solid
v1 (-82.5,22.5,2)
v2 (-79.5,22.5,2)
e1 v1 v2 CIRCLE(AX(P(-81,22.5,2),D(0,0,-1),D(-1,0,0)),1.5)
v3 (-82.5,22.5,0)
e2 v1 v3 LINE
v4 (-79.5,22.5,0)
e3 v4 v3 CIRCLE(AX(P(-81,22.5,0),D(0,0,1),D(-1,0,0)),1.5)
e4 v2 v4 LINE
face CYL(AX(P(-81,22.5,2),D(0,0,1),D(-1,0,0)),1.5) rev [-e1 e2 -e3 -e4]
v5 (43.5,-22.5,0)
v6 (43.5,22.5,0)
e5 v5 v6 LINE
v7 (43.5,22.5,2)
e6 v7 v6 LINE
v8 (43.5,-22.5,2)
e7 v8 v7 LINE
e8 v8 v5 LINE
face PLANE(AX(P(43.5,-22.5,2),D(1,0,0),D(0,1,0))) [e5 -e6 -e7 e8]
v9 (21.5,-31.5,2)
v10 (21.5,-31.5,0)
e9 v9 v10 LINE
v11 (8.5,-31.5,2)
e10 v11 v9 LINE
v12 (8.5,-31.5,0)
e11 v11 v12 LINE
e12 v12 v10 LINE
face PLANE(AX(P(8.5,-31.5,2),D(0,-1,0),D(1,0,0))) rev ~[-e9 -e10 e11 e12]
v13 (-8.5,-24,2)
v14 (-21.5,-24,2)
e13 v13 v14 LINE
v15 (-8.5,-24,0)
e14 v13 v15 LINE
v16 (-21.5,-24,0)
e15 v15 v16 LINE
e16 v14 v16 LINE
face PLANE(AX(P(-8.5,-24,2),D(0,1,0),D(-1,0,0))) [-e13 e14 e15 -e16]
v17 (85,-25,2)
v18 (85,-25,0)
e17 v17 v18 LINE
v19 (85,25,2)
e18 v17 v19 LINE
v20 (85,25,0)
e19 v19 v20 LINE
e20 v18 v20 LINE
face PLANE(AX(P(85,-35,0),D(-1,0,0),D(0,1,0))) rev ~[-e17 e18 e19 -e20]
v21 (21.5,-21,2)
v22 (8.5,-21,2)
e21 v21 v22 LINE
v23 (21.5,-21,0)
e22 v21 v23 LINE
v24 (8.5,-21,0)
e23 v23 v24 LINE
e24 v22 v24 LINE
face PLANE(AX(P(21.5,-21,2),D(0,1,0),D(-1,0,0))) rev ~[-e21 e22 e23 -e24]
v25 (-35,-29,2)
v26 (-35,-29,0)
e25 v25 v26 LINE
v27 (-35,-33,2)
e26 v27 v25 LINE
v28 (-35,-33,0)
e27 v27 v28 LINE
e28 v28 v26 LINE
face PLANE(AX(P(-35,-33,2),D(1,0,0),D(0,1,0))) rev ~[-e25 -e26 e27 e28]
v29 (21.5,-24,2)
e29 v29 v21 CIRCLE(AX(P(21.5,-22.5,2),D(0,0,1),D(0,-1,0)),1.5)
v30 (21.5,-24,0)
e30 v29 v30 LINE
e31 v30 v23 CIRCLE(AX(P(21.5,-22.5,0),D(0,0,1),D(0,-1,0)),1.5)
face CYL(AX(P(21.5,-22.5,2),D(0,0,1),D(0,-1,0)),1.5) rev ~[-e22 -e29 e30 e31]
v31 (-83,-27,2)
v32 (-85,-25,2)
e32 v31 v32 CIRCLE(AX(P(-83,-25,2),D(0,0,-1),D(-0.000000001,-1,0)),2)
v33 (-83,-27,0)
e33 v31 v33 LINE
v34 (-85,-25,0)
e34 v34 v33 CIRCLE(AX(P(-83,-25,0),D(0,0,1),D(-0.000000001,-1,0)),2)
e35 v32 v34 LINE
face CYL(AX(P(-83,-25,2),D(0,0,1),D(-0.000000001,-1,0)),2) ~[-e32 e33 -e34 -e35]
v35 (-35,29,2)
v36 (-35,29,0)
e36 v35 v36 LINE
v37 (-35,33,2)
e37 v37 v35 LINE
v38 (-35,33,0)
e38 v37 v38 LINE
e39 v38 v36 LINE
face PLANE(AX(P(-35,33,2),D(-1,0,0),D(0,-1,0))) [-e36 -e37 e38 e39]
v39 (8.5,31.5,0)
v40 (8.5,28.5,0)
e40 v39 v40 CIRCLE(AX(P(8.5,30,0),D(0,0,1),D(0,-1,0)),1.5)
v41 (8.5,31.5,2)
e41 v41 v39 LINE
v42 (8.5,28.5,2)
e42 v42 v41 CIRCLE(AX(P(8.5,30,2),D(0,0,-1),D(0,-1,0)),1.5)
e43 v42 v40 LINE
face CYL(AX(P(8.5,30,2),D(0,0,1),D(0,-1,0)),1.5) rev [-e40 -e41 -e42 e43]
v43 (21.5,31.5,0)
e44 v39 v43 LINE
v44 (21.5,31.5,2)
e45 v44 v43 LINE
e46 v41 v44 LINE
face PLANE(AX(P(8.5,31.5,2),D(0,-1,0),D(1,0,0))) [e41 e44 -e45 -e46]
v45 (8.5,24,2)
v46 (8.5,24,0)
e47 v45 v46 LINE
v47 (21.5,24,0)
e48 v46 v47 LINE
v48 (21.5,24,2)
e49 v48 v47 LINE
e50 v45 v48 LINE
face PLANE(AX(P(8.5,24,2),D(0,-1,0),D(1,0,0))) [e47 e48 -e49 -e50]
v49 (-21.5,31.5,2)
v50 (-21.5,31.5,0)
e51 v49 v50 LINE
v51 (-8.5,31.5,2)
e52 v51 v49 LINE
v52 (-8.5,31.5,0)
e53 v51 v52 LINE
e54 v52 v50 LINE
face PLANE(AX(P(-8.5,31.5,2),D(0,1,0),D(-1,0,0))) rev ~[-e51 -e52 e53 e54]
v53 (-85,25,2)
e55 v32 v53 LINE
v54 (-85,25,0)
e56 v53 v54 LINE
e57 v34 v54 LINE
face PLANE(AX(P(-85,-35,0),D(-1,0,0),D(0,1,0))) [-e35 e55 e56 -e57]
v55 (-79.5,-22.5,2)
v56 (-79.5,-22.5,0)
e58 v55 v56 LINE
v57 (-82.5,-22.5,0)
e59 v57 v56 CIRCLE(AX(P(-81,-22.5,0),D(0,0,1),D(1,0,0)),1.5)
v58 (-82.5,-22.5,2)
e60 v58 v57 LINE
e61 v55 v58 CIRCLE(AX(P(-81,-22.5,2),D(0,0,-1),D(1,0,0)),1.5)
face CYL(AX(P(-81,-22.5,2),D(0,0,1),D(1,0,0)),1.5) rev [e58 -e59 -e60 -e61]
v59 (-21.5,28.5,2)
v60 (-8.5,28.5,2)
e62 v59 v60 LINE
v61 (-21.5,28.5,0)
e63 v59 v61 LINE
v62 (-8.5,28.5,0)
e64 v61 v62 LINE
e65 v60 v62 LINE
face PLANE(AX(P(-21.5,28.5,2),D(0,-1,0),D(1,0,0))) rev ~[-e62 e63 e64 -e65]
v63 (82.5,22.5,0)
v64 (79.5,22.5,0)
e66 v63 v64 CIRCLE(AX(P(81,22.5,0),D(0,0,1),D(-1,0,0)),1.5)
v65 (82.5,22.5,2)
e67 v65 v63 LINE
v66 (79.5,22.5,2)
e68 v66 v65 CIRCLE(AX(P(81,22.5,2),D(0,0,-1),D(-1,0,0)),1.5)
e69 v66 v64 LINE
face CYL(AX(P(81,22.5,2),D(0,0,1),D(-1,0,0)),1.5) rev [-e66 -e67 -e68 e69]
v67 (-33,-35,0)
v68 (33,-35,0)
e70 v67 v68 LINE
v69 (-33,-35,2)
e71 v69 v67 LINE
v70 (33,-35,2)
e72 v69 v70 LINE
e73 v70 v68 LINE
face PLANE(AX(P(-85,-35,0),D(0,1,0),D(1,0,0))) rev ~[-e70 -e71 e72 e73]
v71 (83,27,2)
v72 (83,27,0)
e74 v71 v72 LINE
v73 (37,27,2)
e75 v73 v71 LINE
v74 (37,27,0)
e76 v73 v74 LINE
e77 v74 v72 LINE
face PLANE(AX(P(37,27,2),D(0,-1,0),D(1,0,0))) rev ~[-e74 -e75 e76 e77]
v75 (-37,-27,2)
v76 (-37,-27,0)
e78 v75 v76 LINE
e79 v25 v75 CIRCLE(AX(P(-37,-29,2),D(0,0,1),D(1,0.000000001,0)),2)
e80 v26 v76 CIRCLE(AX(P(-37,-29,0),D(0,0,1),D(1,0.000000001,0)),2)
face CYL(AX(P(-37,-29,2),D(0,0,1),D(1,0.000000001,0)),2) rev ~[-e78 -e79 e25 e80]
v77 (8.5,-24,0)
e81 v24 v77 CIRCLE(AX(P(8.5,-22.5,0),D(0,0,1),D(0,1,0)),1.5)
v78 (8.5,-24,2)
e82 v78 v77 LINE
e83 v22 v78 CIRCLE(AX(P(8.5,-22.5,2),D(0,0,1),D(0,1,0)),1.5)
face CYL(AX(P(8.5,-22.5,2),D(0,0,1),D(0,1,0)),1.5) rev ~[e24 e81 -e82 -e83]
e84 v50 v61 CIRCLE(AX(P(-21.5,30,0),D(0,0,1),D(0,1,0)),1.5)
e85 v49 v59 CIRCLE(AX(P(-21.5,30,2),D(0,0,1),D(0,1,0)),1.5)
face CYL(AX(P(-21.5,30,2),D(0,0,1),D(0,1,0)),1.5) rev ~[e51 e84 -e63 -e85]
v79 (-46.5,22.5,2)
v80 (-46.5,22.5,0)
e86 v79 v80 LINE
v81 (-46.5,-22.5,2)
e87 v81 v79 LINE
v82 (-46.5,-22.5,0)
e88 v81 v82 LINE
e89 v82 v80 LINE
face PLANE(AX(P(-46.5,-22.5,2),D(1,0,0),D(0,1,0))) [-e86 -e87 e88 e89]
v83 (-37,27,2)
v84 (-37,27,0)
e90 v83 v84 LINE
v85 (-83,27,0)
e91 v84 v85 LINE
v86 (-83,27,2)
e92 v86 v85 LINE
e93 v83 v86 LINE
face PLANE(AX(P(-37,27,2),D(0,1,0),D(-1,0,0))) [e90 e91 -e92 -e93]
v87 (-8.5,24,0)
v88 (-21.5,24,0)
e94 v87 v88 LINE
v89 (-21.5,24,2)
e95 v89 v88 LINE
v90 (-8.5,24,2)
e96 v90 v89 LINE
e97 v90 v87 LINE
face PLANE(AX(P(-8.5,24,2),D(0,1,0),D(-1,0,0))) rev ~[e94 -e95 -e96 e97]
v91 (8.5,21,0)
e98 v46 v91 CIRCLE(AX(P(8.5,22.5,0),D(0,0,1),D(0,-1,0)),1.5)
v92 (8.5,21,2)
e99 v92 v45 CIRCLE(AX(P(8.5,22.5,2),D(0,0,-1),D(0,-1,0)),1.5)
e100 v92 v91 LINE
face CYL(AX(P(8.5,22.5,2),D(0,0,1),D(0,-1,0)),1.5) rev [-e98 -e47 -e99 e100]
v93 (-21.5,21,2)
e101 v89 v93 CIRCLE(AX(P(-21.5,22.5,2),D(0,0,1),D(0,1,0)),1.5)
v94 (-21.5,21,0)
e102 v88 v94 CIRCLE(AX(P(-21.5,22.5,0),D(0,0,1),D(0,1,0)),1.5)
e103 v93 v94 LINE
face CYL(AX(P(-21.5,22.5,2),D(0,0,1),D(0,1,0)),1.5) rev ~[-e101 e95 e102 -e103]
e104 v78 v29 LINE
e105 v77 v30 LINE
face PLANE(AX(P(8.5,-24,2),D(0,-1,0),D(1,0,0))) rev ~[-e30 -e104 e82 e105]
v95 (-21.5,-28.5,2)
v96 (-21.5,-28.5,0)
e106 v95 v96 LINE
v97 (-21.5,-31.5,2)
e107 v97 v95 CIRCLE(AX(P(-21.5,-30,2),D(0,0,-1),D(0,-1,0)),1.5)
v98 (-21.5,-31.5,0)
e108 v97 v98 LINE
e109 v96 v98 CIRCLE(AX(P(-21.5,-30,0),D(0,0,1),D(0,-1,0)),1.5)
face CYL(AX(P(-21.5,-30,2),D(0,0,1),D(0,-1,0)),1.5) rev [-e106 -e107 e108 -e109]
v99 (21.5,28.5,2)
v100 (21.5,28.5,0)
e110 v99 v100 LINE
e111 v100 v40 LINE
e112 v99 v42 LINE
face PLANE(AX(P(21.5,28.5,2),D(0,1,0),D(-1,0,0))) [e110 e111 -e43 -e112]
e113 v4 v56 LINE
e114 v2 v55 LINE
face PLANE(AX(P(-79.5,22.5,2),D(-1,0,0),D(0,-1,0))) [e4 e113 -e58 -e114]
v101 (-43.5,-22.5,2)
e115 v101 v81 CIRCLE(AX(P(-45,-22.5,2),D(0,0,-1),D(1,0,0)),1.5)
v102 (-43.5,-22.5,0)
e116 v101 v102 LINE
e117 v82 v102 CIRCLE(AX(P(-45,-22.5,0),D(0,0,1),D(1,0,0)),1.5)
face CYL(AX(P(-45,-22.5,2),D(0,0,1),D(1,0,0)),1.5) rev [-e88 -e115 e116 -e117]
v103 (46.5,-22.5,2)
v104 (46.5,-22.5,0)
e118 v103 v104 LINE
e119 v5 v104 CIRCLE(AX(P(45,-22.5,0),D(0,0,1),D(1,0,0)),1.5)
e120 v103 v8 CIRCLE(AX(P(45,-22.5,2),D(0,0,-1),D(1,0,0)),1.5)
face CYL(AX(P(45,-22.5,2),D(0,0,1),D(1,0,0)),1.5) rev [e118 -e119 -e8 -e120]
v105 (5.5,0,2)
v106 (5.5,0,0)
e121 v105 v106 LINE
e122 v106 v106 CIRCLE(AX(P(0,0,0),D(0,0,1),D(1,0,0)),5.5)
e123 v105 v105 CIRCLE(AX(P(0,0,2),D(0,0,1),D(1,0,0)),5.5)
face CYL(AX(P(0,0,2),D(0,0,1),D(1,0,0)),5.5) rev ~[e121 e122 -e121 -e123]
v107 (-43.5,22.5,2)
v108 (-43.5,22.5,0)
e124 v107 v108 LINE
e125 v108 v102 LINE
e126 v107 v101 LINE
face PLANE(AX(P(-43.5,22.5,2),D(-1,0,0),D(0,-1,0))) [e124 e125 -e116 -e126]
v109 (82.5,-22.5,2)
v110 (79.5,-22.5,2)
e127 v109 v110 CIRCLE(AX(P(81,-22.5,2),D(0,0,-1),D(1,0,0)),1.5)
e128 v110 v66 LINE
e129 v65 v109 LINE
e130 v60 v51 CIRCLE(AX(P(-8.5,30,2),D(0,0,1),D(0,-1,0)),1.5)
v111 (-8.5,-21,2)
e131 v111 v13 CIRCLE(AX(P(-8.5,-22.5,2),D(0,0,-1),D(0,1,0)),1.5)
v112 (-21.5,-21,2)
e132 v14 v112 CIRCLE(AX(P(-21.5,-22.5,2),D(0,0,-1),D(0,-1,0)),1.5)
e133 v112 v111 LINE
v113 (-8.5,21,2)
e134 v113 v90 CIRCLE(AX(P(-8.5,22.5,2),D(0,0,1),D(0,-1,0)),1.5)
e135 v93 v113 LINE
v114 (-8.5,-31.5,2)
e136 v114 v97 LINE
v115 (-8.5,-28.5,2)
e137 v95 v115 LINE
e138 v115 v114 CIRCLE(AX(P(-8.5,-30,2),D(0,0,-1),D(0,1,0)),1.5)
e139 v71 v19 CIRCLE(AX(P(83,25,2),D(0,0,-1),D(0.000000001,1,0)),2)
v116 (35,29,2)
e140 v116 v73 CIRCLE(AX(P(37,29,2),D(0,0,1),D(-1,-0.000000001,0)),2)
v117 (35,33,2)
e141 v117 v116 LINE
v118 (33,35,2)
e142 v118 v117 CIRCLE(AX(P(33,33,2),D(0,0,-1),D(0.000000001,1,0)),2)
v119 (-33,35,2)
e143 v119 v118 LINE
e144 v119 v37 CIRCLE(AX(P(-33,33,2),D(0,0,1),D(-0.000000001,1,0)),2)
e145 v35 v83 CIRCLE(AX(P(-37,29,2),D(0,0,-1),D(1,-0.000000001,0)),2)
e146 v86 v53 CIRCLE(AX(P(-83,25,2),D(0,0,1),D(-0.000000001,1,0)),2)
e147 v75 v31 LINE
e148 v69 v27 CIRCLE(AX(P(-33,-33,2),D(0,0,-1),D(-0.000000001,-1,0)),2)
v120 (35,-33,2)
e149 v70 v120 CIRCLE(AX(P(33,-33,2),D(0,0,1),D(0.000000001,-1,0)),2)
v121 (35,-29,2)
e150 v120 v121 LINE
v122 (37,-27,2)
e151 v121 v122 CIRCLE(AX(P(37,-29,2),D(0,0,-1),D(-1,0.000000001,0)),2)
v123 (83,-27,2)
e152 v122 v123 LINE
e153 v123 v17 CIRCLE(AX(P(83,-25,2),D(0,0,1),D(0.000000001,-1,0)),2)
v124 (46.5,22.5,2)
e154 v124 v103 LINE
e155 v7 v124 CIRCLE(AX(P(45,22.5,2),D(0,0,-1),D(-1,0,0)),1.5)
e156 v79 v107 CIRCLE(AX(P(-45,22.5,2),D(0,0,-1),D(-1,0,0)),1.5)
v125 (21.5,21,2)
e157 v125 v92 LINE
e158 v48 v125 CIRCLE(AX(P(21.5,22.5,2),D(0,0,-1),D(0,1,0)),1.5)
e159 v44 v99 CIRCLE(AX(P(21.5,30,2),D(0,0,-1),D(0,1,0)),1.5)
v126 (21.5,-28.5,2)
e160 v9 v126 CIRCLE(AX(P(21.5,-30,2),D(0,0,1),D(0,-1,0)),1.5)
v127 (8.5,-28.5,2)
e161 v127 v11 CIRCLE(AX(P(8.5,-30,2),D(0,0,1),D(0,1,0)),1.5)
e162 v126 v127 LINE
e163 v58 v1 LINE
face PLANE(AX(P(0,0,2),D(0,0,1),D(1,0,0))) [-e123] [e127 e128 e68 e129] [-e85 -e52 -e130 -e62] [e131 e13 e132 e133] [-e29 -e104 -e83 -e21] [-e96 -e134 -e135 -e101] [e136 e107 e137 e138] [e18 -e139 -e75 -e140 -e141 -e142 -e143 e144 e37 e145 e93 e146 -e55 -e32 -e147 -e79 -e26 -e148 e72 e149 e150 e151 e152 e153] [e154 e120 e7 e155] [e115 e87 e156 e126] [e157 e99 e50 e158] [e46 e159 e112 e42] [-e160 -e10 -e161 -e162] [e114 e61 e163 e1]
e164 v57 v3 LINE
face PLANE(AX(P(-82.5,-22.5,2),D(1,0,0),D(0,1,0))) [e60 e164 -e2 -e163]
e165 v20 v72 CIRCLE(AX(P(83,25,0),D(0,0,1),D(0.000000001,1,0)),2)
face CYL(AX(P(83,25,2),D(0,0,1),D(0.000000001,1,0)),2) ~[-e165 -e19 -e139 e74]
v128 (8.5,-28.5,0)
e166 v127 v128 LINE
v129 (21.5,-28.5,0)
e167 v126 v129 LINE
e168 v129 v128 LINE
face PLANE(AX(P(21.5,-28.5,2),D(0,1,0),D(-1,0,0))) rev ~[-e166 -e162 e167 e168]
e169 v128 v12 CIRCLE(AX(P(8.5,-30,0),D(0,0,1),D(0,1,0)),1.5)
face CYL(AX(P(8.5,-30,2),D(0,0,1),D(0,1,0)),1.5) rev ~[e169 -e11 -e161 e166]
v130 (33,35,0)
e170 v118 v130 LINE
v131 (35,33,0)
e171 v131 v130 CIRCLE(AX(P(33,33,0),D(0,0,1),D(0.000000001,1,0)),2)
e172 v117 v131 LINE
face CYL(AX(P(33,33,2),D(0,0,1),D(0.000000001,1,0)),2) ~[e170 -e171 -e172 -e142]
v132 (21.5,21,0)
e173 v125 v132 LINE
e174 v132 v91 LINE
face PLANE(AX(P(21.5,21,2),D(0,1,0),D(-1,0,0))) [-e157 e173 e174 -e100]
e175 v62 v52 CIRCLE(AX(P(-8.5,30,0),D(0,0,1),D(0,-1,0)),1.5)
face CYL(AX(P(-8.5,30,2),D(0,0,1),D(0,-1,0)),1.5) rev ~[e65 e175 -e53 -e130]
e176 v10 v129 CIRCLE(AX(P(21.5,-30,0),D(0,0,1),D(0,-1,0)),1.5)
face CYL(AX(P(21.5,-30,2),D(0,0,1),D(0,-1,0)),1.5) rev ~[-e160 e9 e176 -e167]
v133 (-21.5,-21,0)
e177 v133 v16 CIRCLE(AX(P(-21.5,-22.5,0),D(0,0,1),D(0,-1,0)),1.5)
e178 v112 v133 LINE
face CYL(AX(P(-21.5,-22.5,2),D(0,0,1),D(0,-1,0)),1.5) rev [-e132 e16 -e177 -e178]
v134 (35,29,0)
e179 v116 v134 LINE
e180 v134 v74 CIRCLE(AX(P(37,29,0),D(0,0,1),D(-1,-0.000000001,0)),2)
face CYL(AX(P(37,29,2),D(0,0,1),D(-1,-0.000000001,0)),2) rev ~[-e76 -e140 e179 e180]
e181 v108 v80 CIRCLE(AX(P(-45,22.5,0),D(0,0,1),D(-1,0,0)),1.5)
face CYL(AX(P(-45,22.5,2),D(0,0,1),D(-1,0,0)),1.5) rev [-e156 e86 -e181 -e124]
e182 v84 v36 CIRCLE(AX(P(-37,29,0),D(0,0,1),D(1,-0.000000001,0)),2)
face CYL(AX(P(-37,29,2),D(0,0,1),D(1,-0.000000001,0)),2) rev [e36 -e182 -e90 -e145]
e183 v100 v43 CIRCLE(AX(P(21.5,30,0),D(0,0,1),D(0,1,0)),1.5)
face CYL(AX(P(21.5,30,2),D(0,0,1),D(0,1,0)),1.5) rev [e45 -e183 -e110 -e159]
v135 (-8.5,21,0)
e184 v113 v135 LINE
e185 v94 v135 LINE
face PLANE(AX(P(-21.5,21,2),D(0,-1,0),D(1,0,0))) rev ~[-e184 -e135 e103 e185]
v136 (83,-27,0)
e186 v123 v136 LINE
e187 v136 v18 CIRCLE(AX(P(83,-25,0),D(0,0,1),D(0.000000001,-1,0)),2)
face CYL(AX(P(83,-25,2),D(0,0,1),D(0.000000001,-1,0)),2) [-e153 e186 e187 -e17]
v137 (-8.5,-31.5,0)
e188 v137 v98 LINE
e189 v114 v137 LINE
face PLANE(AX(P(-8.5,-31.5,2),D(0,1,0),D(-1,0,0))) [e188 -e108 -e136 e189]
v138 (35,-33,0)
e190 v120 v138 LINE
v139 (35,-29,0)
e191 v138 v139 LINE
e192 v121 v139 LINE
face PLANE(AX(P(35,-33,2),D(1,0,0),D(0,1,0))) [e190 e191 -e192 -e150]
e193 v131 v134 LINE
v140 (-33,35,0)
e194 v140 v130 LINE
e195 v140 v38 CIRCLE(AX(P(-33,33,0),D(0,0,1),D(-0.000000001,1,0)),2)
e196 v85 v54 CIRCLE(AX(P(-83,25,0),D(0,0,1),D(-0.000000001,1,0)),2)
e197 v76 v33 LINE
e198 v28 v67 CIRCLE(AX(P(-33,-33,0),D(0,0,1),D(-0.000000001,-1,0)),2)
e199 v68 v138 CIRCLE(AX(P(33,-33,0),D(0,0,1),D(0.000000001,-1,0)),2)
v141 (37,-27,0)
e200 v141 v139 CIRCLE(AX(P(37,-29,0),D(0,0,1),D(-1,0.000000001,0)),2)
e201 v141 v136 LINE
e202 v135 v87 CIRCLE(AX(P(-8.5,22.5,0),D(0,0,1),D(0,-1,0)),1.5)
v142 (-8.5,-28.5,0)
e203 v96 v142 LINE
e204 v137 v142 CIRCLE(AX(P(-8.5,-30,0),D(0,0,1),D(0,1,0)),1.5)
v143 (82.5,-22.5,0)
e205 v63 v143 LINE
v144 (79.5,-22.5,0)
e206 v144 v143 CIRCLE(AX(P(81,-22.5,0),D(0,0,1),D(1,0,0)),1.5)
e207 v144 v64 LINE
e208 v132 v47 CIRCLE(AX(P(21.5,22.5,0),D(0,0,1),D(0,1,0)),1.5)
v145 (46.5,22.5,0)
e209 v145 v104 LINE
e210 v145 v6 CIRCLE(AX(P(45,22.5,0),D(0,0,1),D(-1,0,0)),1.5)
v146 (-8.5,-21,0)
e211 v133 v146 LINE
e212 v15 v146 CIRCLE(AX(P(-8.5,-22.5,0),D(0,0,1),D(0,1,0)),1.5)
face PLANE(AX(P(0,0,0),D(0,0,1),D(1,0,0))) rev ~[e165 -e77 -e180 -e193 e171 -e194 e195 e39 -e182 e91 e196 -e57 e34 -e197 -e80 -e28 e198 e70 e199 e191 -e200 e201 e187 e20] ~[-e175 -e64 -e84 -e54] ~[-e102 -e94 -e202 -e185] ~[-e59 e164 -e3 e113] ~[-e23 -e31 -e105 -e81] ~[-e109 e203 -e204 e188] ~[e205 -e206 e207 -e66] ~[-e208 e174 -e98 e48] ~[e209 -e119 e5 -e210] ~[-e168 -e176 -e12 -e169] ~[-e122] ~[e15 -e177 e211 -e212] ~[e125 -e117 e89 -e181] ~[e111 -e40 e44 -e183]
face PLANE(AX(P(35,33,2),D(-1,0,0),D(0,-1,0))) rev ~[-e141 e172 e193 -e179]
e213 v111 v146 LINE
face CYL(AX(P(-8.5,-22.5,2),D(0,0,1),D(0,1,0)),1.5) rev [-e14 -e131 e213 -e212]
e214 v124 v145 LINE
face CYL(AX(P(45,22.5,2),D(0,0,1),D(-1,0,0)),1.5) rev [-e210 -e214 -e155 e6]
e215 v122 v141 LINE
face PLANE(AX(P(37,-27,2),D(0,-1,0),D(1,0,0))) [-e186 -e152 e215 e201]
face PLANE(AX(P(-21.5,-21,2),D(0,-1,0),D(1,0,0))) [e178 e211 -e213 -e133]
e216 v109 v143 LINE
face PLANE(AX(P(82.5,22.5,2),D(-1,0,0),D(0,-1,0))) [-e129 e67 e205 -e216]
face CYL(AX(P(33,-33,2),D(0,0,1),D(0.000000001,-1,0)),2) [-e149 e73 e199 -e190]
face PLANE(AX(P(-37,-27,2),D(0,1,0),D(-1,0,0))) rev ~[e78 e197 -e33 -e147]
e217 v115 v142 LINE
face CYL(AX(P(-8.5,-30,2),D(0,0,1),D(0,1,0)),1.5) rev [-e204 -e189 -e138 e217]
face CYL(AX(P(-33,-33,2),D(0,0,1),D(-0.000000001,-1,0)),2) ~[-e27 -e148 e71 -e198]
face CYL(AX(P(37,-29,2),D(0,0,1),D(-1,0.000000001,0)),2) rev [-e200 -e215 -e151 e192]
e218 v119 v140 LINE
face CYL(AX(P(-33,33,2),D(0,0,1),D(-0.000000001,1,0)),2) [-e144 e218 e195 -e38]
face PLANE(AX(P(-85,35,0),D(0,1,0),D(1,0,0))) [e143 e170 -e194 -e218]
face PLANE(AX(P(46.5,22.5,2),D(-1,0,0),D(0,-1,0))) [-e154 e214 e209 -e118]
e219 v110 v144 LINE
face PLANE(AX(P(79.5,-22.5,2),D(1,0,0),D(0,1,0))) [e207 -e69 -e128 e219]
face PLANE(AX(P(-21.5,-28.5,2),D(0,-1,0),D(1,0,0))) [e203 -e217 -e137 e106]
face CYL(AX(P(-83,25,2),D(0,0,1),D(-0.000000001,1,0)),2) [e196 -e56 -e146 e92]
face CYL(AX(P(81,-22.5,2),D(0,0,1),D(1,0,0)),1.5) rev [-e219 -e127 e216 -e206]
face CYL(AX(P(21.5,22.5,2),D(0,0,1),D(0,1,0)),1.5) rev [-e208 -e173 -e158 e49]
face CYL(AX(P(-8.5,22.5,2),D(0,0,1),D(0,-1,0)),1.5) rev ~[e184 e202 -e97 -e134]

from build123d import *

# Parameters (mm, degrees)
SKETCH_1_W          = 170
SKETCH_1_H          = 70
EXTRUDE_1_DEPTH     = 2
SKETCH_2_R          = 5.5
CUT_EXTRUDE_1_DEPTH = 92.945636112
CUT_EXTRUDE_2_DEPTH = 92.945636112


with BuildPart() as part:
    # 草圖1 → 填料-伸長1 (new body)
    with BuildSketch(Plane.XY):
        Rectangle(SKETCH_1_W, SKETCH_1_H)
    extrude(amount=EXTRUDE_1_DEPTH)

    # 草圖2 → 除料-伸長1 (cut, through all)
    with BuildSketch(Plane.XY.offset(2)):
        Circle(SKETCH_2_R)
        with BuildLine():
            Line((43.5, -22.5), (43.5, 22.5))
            ThreePointArc((43.5, 22.5), (45, 24), (46.5, 22.5))
            Line((46.5, 22.5), (46.5, -22.5))
            ThreePointArc((46.5, -22.5), (45, -24), (43.5, -22.5))
        make_face()
        with BuildLine():
            Line((-46.5, -22.5), (-46.5, 22.5))
            ThreePointArc((-46.5, 22.5), (-45, 24), (-43.5, 22.5))
            Line((-43.5, 22.5), (-43.5, -22.5))
            ThreePointArc((-43.5, -22.5), (-45, -24), (-46.5, -22.5))
        make_face()
        with BuildLine():
            Line((21.5, 28.5), (8.5, 28.5))
            ThreePointArc((8.5, 28.5), (7, 30), (8.5, 31.5))
            Line((8.5, 31.5), (21.5, 31.5))
            ThreePointArc((21.5, 31.5), (23, 30), (21.5, 28.5))
        make_face()
        with BuildLine():
            Line((-82.5, -22.5), (-82.5, 22.5))
            ThreePointArc((-82.5, 22.5), (-81, 24), (-79.5, 22.5))
            Line((-79.5, 22.5), (-79.5, -22.5))
            ThreePointArc((-79.5, -22.5), (-81, -24), (-82.5, -22.5))
        make_face()
        with BuildLine():
            Line((79.5, -22.5), (79.5, 22.5))
            ThreePointArc((79.5, 22.5), (81, 24), (82.5, 22.5))
            Line((82.5, 22.5), (82.5, -22.5))
            ThreePointArc((82.5, -22.5), (81, -24), (79.5, -22.5))
        make_face()
        with BuildLine():
            Line((21.5, 21), (8.5, 21))
            ThreePointArc((8.5, 21), (7, 22.5), (8.5, 24))
            Line((8.5, 24), (21.5, 24))
            ThreePointArc((21.5, 24), (23, 22.5), (21.5, 21))
        make_face()
        with BuildLine():
            Line((-21.5, 28.5), (-8.5, 28.5))
            ThreePointArc((-8.5, 28.5), (-7, 30), (-8.5, 31.5))
            Line((-8.5, 31.5), (-21.5, 31.5))
            ThreePointArc((-21.5, 31.5), (-23, 30), (-21.5, 28.5))
        make_face()
        with BuildLine():
            Line((-21.5, 21), (-8.5, 21))
            ThreePointArc((-8.5, 21), (-7, 22.5), (-8.5, 24))
            Line((-8.5, 24), (-21.5, 24))
            ThreePointArc((-21.5, 24), (-23, 22.5), (-21.5, 21))
        make_face()
        with BuildLine():
            Line((21.5, -28.5), (8.5, -28.5))
            ThreePointArc((8.5, -28.5), (7, -30), (8.5, -31.5))
            Line((8.5, -31.5), (21.5, -31.5))
            ThreePointArc((21.5, -31.5), (23, -30), (21.5, -28.5))
        make_face()
        with BuildLine():
            Line((21.5, -21), (8.5, -21))
            ThreePointArc((8.5, -21), (7, -22.5), (8.5, -24))
            Line((8.5, -24), (21.5, -24))
            ThreePointArc((21.5, -24), (23, -22.5), (21.5, -21))
        make_face()
        with BuildLine():
            Line((-21.5, -28.5), (-8.5, -28.5))
            ThreePointArc((-8.5, -28.5), (-7, -30), (-8.5, -31.5))
            Line((-8.5, -31.5), (-21.5, -31.5))
            ThreePointArc((-21.5, -31.5), (-23, -30), (-21.5, -28.5))
        make_face()
        with BuildLine():
            Line((-21.5, -21), (-8.5, -21))
            ThreePointArc((-8.5, -21), (-7, -22.5), (-8.5, -24))
            Line((-8.5, -24), (-21.5, -24))
            ThreePointArc((-21.5, -24), (-23, -22.5), (-21.5, -21))
        make_face()
    extrude(amount=-CUT_EXTRUDE_1_DEPTH, mode=Mode.SUBTRACT)

    # 草圖4 → 除料-伸長2 (cut, through all)
    with BuildSketch(Plane.XY.offset(2)):
        with BuildLine():
            Line((85, 35), (33, 35))
            ThreePointArc((33, 35), (34.414213562, 34.414213562), (35, 33))
            Line((35, 33), (35, 29))
            ThreePointArc((35, 29), (35.585786438, 27.585786438), (37, 27))
            Line((37, 27), (83, 27))
            ThreePointArc((83, 27), (84.414213562, 26.414213562), (85, 25))
            Line((85, 25), (85, 35))
        make_face()
        with BuildLine():
            Line((35, -33), (35, -29))
            ThreePointArc((35, -29), (35.585786438, -27.585786438), (37, -27))
            Line((37, -27), (83, -27))
            ThreePointArc((83, -27), (84.414213562, -26.414213562), (85, -25))
            Line((85, -25), (85, -35))
            Line((85, -35), (33, -35))
            ThreePointArc((33, -35), (34.414213562, -34.414213562), (35, -33))
        make_face()
        with BuildLine():
            Line((-85, -35), (-33, -35))
            ThreePointArc((-33, -35), (-34.414213562, -34.414213562), (-35, -33))
            Line((-35, -33), (-35, -29))
            ThreePointArc((-35, -29), (-35.585786438, -27.585786438), (-37, -27))
            Line((-37, -27), (-83, -27))
            ThreePointArc((-83, -27), (-84.414213562, -26.414213562), (-85, -25))
            Line((-85, -25), (-85, -35))
        make_face()
        with BuildLine():
            Line((-35, 33), (-35, 29))
            ThreePointArc((-35, 29), (-35.585786438, 27.585786438), (-37, 27))
            Line((-37, 27), (-83, 27))
            ThreePointArc((-83, 27), (-84.414213562, 26.414213562), (-85, 25))
            Line((-85, 25), (-85, 35))
            Line((-85, 35), (-33, 35))
            ThreePointArc((-33, 35), (-34.414213562, 34.414213562), (-35, 33))
        make_face()
    extrude(amount=-CUT_EXTRUDE_2_DEPTH, mode=Mode.SUBTRACT)


solid = part.part
